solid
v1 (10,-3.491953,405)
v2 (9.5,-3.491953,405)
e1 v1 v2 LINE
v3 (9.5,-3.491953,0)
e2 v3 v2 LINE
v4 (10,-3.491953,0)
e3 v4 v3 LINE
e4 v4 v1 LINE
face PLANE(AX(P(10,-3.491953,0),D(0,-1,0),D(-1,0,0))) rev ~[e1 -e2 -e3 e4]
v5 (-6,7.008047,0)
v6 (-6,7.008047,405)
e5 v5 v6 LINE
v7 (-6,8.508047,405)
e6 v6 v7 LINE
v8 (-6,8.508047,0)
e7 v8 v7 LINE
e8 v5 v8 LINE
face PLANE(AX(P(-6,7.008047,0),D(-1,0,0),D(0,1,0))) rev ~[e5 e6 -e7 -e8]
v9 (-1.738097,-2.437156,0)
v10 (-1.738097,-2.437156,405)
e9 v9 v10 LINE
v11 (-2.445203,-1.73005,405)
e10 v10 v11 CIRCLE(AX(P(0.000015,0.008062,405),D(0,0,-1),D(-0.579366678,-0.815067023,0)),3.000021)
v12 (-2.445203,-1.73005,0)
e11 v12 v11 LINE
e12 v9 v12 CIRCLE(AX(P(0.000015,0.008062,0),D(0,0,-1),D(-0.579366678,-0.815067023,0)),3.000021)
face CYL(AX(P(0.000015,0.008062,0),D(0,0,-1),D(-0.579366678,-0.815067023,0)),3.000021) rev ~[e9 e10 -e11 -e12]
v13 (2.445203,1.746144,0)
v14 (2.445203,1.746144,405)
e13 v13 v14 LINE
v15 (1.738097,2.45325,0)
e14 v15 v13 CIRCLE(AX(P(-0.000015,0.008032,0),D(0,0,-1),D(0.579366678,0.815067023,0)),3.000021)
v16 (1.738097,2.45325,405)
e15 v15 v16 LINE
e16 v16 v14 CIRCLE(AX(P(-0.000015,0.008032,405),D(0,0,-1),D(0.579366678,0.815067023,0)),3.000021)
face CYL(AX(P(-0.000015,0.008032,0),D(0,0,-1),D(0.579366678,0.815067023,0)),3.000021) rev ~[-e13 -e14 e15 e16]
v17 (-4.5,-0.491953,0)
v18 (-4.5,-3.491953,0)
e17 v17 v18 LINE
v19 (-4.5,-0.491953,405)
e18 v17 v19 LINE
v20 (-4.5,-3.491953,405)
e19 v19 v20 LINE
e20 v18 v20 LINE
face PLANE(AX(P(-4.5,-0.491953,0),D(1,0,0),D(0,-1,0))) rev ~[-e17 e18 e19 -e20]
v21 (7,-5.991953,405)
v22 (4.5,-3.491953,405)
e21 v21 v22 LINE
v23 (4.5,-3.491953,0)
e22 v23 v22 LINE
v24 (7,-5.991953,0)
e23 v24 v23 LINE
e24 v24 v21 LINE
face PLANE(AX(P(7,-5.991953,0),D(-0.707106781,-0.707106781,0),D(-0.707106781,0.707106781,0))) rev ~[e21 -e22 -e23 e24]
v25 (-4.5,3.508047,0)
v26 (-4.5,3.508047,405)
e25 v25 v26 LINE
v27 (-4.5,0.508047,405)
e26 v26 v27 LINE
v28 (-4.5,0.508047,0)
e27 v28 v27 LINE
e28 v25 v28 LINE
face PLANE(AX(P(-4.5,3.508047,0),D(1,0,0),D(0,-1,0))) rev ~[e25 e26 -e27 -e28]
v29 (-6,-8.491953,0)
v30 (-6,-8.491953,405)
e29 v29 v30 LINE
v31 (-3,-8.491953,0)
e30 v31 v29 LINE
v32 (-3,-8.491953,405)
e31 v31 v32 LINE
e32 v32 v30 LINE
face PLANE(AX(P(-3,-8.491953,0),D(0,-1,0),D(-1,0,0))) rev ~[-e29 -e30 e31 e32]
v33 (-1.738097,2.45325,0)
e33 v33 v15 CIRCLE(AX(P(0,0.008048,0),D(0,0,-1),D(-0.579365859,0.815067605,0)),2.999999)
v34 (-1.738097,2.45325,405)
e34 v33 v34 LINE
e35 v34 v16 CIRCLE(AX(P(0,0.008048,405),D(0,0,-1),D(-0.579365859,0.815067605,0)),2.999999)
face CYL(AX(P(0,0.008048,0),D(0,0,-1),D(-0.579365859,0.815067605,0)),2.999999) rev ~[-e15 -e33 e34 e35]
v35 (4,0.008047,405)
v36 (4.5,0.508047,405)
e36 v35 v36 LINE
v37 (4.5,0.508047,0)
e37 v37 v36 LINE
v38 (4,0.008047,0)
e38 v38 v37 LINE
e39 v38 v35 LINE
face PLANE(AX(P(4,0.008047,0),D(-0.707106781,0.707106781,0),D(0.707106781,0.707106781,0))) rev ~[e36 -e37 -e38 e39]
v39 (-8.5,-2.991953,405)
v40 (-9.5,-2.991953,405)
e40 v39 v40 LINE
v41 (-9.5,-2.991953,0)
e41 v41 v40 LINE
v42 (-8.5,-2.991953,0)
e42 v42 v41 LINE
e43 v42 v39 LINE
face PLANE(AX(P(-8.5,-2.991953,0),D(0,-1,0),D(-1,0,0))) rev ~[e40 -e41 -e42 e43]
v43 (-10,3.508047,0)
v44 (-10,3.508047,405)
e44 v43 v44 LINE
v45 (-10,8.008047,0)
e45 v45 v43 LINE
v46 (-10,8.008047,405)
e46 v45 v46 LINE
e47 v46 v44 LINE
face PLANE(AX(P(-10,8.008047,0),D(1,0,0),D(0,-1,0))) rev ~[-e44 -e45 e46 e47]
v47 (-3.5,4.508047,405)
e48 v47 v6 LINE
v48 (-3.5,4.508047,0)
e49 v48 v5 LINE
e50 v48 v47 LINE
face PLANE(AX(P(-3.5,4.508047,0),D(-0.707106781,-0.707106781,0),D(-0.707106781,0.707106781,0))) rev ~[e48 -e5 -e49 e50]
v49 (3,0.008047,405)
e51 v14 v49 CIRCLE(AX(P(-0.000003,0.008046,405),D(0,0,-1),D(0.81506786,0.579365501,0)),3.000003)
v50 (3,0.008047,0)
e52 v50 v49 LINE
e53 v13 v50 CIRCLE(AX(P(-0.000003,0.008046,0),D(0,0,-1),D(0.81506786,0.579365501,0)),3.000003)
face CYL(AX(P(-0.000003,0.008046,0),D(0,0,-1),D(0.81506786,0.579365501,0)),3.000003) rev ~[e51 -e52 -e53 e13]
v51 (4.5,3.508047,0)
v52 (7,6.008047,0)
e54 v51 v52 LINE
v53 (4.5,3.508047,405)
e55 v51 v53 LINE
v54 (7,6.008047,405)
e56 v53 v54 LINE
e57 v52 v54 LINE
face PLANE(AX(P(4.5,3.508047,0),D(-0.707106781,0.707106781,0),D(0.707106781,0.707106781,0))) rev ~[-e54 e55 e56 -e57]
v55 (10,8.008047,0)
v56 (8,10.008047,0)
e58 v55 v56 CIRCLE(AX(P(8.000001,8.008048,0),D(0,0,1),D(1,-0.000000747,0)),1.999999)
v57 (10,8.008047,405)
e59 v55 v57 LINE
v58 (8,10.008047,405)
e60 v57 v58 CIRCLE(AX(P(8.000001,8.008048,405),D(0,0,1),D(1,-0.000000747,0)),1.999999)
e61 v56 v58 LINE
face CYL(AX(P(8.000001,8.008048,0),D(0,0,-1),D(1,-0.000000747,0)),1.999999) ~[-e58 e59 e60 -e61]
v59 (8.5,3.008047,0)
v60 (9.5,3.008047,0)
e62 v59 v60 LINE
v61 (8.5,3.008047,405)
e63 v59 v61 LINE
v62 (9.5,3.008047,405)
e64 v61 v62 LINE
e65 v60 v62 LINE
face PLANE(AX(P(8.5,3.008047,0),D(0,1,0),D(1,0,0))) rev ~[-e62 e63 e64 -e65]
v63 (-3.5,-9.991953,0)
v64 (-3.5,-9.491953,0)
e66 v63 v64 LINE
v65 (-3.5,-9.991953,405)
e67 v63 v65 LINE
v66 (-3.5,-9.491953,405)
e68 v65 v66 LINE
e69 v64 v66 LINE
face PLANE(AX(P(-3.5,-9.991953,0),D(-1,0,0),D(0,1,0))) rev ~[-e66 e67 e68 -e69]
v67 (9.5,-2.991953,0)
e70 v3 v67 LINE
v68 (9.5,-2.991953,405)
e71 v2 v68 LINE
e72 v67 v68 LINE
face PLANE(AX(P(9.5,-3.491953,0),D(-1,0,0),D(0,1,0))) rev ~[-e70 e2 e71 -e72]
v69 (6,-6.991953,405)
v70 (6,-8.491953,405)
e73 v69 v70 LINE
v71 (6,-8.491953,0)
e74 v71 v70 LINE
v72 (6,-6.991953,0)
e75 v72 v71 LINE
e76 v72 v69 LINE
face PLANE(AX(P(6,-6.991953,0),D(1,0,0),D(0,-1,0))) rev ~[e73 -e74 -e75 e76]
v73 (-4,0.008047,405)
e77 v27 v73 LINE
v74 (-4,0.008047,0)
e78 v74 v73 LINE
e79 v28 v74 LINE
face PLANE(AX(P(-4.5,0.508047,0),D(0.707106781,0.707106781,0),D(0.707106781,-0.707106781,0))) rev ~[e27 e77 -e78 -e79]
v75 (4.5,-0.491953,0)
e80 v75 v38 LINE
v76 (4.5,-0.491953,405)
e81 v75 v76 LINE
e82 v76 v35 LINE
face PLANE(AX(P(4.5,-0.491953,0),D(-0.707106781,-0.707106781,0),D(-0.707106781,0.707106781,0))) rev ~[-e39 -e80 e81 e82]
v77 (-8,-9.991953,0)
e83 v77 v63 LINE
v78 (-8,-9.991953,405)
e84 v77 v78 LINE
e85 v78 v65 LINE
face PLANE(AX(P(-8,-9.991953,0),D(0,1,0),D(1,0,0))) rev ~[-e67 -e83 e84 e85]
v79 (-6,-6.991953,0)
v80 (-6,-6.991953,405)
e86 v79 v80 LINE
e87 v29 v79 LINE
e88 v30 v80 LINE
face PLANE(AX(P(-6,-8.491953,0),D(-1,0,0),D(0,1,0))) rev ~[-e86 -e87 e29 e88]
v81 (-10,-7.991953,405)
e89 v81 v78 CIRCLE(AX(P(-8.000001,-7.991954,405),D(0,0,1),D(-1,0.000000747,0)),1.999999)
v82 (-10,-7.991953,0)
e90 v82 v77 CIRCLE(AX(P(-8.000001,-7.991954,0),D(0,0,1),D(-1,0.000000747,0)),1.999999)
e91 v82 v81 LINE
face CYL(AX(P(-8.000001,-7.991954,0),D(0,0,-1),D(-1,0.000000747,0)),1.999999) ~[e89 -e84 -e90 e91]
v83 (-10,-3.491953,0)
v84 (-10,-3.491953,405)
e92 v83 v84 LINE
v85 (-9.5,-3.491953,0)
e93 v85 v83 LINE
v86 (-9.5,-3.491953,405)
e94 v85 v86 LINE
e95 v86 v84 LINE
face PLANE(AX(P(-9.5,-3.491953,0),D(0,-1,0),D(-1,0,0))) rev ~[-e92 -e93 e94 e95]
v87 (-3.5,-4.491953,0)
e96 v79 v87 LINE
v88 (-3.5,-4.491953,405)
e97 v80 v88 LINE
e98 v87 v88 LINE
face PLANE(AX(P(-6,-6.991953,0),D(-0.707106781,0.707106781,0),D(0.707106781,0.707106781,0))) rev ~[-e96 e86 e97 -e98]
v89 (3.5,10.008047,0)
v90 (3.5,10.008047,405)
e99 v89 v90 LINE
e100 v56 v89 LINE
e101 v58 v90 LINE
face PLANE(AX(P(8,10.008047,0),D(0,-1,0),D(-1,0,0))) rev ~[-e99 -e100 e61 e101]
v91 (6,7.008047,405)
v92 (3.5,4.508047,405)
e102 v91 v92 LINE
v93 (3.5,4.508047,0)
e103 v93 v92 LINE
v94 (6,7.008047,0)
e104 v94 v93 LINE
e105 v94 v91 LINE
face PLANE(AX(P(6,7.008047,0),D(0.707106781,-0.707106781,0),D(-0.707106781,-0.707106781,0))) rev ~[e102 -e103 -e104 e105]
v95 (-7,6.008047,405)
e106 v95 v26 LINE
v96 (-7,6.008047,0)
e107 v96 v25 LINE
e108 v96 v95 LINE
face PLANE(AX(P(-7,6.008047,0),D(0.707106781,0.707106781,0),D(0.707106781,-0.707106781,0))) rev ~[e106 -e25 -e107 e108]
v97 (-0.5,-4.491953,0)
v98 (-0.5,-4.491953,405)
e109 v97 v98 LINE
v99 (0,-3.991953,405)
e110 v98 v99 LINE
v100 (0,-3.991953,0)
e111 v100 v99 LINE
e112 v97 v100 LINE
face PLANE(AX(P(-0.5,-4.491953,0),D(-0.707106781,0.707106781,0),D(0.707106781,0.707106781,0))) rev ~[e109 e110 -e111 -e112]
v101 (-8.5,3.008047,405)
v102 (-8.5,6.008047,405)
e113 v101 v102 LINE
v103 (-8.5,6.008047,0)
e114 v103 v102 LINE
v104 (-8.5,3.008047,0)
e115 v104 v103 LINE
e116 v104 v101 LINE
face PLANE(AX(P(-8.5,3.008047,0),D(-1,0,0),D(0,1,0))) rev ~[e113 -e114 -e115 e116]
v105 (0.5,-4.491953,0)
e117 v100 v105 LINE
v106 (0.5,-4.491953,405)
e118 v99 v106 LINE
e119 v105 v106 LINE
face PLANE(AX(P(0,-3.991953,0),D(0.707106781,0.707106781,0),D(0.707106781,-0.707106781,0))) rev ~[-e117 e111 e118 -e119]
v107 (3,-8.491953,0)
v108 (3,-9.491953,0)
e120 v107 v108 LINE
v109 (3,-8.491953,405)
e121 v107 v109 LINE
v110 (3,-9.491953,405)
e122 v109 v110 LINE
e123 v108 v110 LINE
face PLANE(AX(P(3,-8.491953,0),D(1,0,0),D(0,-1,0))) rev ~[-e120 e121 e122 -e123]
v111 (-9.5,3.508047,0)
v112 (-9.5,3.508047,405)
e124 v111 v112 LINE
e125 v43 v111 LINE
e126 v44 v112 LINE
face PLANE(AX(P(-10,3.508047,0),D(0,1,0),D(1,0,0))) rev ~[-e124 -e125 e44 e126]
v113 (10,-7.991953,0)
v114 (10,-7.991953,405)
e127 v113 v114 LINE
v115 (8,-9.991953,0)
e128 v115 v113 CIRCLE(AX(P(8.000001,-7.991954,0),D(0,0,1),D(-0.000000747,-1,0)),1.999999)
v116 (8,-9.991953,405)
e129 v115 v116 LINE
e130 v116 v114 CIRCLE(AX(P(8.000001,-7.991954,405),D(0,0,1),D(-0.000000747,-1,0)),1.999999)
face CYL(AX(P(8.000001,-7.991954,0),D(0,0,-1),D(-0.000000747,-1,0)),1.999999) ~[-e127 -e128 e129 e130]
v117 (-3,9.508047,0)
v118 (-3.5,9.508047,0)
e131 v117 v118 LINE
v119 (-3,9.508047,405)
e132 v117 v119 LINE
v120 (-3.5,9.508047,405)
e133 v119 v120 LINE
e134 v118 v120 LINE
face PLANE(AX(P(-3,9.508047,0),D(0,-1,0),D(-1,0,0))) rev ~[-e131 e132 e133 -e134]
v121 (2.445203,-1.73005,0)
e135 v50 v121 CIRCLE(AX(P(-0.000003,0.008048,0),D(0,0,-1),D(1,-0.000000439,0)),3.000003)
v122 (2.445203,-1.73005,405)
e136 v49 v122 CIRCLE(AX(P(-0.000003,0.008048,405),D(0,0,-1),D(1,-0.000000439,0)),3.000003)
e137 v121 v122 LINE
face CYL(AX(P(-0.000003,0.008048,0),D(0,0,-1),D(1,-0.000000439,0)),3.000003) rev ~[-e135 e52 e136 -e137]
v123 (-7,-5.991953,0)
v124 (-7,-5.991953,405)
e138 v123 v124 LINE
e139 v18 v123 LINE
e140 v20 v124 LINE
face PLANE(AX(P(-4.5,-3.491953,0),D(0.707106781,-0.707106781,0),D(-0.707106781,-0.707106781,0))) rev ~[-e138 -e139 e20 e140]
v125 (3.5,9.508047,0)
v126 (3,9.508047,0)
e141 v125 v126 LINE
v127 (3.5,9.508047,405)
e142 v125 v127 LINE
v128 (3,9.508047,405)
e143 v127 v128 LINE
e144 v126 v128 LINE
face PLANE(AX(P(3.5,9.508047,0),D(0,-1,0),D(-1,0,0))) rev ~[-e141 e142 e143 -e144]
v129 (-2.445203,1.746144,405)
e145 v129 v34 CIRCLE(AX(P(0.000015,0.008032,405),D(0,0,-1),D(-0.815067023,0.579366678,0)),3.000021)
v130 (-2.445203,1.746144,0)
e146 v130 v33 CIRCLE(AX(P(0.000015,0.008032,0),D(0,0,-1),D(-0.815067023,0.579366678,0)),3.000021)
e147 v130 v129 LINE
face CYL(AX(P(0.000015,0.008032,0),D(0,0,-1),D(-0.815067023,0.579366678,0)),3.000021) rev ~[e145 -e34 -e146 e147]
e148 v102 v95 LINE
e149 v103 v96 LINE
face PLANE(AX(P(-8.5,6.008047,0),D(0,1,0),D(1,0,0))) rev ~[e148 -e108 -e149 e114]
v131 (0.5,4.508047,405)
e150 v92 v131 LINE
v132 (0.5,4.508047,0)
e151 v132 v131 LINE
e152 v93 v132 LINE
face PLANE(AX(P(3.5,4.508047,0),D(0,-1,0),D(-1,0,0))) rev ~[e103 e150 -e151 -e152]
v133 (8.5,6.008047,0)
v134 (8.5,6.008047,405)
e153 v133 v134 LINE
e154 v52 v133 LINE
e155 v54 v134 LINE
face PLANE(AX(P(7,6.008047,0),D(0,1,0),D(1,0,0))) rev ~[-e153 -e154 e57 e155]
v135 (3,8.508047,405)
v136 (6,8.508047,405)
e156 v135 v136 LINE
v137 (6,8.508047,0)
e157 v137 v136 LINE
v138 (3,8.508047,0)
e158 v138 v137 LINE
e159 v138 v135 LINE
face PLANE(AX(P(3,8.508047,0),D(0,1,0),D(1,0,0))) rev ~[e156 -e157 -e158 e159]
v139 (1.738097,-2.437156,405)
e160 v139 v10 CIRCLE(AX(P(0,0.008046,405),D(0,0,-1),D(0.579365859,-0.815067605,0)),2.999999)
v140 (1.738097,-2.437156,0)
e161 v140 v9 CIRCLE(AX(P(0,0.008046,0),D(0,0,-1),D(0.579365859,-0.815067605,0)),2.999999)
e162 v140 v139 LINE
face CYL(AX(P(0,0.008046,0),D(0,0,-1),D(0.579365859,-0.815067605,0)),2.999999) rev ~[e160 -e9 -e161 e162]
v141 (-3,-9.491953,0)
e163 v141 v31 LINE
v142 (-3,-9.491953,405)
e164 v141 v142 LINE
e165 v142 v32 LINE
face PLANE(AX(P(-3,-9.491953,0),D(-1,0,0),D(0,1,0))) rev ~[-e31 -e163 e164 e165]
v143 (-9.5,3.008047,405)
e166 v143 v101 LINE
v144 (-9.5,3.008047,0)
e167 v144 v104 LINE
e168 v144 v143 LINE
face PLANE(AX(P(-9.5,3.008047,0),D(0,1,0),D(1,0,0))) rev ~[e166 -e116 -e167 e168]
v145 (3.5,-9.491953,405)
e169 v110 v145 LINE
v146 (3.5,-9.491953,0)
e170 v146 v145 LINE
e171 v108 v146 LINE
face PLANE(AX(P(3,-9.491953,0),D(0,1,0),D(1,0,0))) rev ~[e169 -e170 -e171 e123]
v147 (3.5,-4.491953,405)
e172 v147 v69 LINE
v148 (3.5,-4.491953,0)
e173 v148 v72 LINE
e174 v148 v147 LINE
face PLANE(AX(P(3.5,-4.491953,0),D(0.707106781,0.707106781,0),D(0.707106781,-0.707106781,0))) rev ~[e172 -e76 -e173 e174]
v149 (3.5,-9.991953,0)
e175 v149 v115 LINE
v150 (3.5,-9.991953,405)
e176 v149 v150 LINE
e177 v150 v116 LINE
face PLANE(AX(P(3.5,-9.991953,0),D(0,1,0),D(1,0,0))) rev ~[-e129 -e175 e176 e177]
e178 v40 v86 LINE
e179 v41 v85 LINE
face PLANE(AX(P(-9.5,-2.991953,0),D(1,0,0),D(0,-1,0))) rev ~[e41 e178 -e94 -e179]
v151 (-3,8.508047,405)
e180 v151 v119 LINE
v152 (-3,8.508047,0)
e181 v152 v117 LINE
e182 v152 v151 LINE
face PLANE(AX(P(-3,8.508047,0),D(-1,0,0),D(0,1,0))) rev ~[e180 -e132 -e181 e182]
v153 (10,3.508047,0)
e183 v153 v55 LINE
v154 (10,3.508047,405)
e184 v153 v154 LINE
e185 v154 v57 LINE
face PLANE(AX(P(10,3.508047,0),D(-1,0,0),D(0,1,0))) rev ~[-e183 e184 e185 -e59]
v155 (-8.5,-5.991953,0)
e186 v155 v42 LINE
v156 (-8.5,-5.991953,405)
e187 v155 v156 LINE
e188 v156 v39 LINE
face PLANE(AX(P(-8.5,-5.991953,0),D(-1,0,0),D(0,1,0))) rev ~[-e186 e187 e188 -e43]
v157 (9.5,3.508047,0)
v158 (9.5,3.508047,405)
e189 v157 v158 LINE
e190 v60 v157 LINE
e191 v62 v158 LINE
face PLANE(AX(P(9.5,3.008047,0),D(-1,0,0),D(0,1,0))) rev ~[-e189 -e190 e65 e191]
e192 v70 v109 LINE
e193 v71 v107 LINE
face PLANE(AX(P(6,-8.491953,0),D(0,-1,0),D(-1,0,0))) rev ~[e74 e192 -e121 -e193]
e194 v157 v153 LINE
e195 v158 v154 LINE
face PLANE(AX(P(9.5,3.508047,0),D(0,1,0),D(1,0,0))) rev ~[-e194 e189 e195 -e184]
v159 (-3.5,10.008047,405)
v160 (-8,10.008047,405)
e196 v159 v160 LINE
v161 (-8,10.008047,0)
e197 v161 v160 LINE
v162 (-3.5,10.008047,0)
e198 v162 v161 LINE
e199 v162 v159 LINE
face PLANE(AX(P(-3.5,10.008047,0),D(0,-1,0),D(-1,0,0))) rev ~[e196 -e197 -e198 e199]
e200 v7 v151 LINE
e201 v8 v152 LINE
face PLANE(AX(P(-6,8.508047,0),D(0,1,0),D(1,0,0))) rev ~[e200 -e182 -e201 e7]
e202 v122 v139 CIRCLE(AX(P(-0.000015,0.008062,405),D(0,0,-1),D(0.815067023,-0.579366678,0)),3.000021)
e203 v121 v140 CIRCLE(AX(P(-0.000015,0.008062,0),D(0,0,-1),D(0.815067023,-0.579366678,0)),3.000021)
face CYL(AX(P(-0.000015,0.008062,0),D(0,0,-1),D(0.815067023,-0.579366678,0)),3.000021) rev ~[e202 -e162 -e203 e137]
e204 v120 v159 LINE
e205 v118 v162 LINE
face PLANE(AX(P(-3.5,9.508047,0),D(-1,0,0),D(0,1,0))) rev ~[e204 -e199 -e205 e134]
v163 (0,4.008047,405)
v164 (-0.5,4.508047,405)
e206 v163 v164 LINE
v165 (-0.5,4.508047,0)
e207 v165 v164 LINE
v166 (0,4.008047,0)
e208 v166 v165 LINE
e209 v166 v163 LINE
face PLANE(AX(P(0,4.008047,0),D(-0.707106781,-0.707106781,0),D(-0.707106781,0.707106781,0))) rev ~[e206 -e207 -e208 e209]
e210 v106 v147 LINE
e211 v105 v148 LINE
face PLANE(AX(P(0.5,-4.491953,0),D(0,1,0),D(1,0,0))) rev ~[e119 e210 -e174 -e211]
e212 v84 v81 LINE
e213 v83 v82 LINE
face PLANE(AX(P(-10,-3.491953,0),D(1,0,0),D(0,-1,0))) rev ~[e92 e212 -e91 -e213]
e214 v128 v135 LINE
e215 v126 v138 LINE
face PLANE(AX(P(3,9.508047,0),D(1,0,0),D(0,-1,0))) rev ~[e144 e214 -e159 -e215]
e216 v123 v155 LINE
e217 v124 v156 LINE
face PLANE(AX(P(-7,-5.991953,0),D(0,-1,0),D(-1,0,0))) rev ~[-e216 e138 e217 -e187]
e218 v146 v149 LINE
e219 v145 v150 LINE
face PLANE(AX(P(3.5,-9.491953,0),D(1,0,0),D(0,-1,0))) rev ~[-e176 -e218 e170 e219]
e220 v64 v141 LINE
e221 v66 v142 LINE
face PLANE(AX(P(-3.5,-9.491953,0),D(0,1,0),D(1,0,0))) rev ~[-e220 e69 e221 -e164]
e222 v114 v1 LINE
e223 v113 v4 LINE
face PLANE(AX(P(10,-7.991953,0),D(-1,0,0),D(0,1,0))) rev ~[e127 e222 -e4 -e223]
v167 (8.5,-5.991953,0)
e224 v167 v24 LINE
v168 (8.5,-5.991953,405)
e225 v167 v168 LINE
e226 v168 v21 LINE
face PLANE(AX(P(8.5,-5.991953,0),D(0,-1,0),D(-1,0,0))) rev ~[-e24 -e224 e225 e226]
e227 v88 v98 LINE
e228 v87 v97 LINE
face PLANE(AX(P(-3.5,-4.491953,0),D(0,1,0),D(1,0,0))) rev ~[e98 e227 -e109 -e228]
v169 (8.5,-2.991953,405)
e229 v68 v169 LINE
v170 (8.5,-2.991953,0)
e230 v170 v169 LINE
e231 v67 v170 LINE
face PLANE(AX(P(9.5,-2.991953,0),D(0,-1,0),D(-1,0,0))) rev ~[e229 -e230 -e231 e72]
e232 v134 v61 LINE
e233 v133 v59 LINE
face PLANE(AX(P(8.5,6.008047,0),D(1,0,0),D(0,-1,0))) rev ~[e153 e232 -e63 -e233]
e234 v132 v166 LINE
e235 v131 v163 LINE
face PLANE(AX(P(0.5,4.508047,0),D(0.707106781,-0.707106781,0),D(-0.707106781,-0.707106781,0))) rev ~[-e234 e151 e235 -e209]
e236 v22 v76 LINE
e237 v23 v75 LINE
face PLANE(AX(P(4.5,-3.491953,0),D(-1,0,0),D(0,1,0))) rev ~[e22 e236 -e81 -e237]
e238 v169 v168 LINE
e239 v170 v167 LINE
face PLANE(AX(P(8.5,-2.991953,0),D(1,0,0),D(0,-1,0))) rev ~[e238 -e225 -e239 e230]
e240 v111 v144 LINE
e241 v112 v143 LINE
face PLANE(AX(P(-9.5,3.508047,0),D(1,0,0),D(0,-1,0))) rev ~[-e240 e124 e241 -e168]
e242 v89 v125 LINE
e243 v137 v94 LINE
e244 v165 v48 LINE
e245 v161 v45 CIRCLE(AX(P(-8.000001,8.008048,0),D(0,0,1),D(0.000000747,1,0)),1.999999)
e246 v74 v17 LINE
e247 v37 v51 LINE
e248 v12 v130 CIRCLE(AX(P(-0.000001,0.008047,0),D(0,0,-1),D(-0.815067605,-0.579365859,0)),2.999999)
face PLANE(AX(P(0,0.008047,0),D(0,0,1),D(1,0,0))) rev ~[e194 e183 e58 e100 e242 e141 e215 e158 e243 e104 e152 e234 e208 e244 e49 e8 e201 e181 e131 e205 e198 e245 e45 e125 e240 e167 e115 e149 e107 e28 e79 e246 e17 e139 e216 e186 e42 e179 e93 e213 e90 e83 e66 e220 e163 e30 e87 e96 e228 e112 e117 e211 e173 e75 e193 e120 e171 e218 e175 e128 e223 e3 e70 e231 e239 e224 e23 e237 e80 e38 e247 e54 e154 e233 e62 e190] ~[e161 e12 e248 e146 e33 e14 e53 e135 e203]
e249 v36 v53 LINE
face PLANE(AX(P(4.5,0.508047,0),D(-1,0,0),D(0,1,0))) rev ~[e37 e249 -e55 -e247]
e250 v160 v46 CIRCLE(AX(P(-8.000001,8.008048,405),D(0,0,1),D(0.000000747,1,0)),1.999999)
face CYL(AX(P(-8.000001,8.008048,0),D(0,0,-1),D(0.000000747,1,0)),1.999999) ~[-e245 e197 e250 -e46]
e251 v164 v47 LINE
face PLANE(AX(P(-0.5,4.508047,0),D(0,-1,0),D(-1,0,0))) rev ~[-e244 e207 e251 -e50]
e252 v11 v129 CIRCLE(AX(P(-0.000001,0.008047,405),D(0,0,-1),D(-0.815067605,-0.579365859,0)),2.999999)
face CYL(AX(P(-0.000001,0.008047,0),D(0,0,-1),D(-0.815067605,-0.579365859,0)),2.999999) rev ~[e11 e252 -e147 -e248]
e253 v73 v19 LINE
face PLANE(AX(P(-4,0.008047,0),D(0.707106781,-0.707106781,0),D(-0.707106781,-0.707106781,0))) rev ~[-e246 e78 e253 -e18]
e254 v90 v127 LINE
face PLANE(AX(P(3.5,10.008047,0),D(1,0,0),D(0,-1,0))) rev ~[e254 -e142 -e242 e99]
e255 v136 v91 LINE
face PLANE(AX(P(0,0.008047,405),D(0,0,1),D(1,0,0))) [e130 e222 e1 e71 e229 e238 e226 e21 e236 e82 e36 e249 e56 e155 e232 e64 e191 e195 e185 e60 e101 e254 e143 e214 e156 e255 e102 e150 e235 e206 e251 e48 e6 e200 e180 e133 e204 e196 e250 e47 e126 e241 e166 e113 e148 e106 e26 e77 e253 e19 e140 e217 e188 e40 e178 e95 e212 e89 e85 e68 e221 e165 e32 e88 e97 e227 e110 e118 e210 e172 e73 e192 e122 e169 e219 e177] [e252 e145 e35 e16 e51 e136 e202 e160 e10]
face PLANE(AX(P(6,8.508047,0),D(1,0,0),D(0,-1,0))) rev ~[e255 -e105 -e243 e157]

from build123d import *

# Parameters (mm, degrees)
F1_DEPTH = 405


with BuildPart() as f1:
    # F0 (on Top) → F1 (new body)
    with BuildSketch(Plane.XY):
        with BuildLine():
            ThreePointArc((-10, -7.991953), (-9.414214, -9.406167), (-8, -9.991953))
            Line((-8, -9.991953), (-3.5, -9.991953))
            Line((-3.5, -9.991953), (-3.5, -9.491953))
            Line((-3.5, -9.491953), (-3, -9.491953))
            Line((-3, -9.491953), (-3, -8.491953))
            Line((-3, -8.491953), (-6, -8.491953))
            Line((-6, -8.491953), (-6, -6.991953))
            Line((-6, -6.991953), (-3.5, -4.491953))
            Line((-3.5, -4.491953), (-0.5, -4.491953))
            Line((-0.5, -4.491953), (0, -3.991953))
            Line((0, -3.991953), (0.5, -4.491953))
            Line((0.5, -4.491953), (3.5, -4.491953))
            Line((3.5, -4.491953), (6, -6.991953))
            Line((6, -6.991953), (6, -8.491953))
            Line((6, -8.491953), (3, -8.491953))
            Line((3, -8.491953), (3, -9.491953))
            Line((3, -9.491953), (3.5, -9.491953))
            Line((3.5, -9.491953), (3.5, -9.991953))
            Line((3.5, -9.991953), (8, -9.991953))
            ThreePointArc((8, -9.991953), (9.414214, -9.406167), (10, -7.991953))
            Line((10, -7.991953), (10, -3.491953))
            Line((10, -3.491953), (9.5, -3.491953))
            Line((9.5, -3.491953), (9.5, -2.991953))
            Line((9.5, -2.991953), (8.5, -2.991953))
            Line((8.5, -2.991953), (8.5, -5.991953))
            Line((8.5, -5.991953), (7, -5.991953))
            Line((7, -5.991953), (4.5, -3.491953))
            Line((4.5, -3.491953), (4.5, -0.491953))
            Line((4.5, -0.491953), (4, 0.008047))
            Line((4, 0.008047), (4.5, 0.508047))
            Line((4.5, 0.508047), (4.5, 3.508047))
            Line((4.5, 3.508047), (7, 6.008047))
            Line((7, 6.008047), (8.5, 6.008047))
            Line((8.5, 6.008047), (8.5, 3.008047))
            Line((8.5, 3.008047), (9.5, 3.008047))
            Line((9.5, 3.008047), (9.5, 3.508047))
            Line((9.5, 3.508047), (10, 3.508047))
            Line((10, 3.508047), (10, 8.008047))
            ThreePointArc((10, 8.008047), (9.414214, 9.422261), (8, 10.008047))
            Line((8, 10.008047), (3.5, 10.008047))
            Line((3.5, 10.008047), (3.5, 9.508047))
            Line((3.5, 9.508047), (3, 9.508047))
            Line((3, 9.508047), (3, 8.508047))
            Line((3, 8.508047), (6, 8.508047))
            Line((6, 8.508047), (6, 7.008047))
            Line((6, 7.008047), (3.5, 4.508047))
            Line((3.5, 4.508047), (0.5, 4.508047))
            Line((0.5, 4.508047), (0, 4.008047))
            Line((0, 4.008047), (-0.5, 4.508047))
            Line((-0.5, 4.508047), (-3.5, 4.508047))
            Line((-3.5, 4.508047), (-6, 7.008047))
            Line((-6, 7.008047), (-6, 8.508047))
            Line((-6, 8.508047), (-3, 8.508047))
            Line((-3, 8.508047), (-3, 9.508047))
            Line((-3, 9.508047), (-3.5, 9.508047))
            Line((-3.5, 9.508047), (-3.5, 10.008047))
            Line((-3.5, 10.008047), (-8, 10.008047))
            ThreePointArc((-8, 10.008047), (-9.414214, 9.422261), (-10, 8.008047))
            Line((-10, 8.008047), (-10, 3.508047))
            Line((-10, 3.508047), (-9.5, 3.508047))
            Line((-9.5, 3.508047), (-9.5, 3.008047))
            Line((-9.5, 3.008047), (-8.5, 3.008047))
            Line((-8.5, 3.008047), (-8.5, 6.008047))
            Line((-8.5, 6.008047), (-7, 6.008047))
            Line((-7, 6.008047), (-4.5, 3.508047))
            Line((-4.5, 3.508047), (-4.5, 0.508047))
            Line((-4.5, 0.508047), (-4, 0.008047))
            Line((-4, 0.008047), (-4.5, -0.491953))
            Line((-4.5, -0.491953), (-4.5, -3.491953))
            Line((-4.5, -3.491953), (-7, -5.991953))
            Line((-7, -5.991953), (-8.5, -5.991953))
            Line((-8.5, -5.991953), (-8.5, -2.991953))
            Line((-8.5, -2.991953), (-9.5, -2.991953))
            Line((-9.5, -2.991953), (-9.5, -3.491953))
            Line((-9.5, -3.491953), (-10, -3.491953))
            Line((-10, -3.491953), (-10, -7.991953))
        make_face()
        with BuildLine():
            ThreePointArc((2.445203, 1.746144), (2.857937, 0.920294), (3, 0.008047))
            ThreePointArc((3, 0.008047), (2.857937, -0.9042), (2.445203, -1.73005))
            ThreePointArc((2.445203, -1.73005), (2.12132, -2.113273), (1.738097, -2.437156))
            ThreePointArc((1.738097, -2.437156), (0, -2.991953), (-1.738097, -2.437156))
            ThreePointArc((-1.738097, -2.437156), (-2.12132, -2.113273), (-2.445203, -1.73005))
            ThreePointArc((-2.445203, -1.73005), (-3, 0.008047), (-2.445203, 1.746144))
            ThreePointArc((-2.445203, 1.746144), (-2.12132, 2.129367), (-1.738097, 2.45325))
            ThreePointArc((-1.738097, 2.45325), (0, 3.008047), (1.738097, 2.45325))
            ThreePointArc((1.738097, 2.45325), (2.12132, 2.129367), (2.445203, 1.746144))
        make_face(mode=Mode.SUBTRACT)
    extrude(amount=F1_DEPTH)


solid = f1.part
